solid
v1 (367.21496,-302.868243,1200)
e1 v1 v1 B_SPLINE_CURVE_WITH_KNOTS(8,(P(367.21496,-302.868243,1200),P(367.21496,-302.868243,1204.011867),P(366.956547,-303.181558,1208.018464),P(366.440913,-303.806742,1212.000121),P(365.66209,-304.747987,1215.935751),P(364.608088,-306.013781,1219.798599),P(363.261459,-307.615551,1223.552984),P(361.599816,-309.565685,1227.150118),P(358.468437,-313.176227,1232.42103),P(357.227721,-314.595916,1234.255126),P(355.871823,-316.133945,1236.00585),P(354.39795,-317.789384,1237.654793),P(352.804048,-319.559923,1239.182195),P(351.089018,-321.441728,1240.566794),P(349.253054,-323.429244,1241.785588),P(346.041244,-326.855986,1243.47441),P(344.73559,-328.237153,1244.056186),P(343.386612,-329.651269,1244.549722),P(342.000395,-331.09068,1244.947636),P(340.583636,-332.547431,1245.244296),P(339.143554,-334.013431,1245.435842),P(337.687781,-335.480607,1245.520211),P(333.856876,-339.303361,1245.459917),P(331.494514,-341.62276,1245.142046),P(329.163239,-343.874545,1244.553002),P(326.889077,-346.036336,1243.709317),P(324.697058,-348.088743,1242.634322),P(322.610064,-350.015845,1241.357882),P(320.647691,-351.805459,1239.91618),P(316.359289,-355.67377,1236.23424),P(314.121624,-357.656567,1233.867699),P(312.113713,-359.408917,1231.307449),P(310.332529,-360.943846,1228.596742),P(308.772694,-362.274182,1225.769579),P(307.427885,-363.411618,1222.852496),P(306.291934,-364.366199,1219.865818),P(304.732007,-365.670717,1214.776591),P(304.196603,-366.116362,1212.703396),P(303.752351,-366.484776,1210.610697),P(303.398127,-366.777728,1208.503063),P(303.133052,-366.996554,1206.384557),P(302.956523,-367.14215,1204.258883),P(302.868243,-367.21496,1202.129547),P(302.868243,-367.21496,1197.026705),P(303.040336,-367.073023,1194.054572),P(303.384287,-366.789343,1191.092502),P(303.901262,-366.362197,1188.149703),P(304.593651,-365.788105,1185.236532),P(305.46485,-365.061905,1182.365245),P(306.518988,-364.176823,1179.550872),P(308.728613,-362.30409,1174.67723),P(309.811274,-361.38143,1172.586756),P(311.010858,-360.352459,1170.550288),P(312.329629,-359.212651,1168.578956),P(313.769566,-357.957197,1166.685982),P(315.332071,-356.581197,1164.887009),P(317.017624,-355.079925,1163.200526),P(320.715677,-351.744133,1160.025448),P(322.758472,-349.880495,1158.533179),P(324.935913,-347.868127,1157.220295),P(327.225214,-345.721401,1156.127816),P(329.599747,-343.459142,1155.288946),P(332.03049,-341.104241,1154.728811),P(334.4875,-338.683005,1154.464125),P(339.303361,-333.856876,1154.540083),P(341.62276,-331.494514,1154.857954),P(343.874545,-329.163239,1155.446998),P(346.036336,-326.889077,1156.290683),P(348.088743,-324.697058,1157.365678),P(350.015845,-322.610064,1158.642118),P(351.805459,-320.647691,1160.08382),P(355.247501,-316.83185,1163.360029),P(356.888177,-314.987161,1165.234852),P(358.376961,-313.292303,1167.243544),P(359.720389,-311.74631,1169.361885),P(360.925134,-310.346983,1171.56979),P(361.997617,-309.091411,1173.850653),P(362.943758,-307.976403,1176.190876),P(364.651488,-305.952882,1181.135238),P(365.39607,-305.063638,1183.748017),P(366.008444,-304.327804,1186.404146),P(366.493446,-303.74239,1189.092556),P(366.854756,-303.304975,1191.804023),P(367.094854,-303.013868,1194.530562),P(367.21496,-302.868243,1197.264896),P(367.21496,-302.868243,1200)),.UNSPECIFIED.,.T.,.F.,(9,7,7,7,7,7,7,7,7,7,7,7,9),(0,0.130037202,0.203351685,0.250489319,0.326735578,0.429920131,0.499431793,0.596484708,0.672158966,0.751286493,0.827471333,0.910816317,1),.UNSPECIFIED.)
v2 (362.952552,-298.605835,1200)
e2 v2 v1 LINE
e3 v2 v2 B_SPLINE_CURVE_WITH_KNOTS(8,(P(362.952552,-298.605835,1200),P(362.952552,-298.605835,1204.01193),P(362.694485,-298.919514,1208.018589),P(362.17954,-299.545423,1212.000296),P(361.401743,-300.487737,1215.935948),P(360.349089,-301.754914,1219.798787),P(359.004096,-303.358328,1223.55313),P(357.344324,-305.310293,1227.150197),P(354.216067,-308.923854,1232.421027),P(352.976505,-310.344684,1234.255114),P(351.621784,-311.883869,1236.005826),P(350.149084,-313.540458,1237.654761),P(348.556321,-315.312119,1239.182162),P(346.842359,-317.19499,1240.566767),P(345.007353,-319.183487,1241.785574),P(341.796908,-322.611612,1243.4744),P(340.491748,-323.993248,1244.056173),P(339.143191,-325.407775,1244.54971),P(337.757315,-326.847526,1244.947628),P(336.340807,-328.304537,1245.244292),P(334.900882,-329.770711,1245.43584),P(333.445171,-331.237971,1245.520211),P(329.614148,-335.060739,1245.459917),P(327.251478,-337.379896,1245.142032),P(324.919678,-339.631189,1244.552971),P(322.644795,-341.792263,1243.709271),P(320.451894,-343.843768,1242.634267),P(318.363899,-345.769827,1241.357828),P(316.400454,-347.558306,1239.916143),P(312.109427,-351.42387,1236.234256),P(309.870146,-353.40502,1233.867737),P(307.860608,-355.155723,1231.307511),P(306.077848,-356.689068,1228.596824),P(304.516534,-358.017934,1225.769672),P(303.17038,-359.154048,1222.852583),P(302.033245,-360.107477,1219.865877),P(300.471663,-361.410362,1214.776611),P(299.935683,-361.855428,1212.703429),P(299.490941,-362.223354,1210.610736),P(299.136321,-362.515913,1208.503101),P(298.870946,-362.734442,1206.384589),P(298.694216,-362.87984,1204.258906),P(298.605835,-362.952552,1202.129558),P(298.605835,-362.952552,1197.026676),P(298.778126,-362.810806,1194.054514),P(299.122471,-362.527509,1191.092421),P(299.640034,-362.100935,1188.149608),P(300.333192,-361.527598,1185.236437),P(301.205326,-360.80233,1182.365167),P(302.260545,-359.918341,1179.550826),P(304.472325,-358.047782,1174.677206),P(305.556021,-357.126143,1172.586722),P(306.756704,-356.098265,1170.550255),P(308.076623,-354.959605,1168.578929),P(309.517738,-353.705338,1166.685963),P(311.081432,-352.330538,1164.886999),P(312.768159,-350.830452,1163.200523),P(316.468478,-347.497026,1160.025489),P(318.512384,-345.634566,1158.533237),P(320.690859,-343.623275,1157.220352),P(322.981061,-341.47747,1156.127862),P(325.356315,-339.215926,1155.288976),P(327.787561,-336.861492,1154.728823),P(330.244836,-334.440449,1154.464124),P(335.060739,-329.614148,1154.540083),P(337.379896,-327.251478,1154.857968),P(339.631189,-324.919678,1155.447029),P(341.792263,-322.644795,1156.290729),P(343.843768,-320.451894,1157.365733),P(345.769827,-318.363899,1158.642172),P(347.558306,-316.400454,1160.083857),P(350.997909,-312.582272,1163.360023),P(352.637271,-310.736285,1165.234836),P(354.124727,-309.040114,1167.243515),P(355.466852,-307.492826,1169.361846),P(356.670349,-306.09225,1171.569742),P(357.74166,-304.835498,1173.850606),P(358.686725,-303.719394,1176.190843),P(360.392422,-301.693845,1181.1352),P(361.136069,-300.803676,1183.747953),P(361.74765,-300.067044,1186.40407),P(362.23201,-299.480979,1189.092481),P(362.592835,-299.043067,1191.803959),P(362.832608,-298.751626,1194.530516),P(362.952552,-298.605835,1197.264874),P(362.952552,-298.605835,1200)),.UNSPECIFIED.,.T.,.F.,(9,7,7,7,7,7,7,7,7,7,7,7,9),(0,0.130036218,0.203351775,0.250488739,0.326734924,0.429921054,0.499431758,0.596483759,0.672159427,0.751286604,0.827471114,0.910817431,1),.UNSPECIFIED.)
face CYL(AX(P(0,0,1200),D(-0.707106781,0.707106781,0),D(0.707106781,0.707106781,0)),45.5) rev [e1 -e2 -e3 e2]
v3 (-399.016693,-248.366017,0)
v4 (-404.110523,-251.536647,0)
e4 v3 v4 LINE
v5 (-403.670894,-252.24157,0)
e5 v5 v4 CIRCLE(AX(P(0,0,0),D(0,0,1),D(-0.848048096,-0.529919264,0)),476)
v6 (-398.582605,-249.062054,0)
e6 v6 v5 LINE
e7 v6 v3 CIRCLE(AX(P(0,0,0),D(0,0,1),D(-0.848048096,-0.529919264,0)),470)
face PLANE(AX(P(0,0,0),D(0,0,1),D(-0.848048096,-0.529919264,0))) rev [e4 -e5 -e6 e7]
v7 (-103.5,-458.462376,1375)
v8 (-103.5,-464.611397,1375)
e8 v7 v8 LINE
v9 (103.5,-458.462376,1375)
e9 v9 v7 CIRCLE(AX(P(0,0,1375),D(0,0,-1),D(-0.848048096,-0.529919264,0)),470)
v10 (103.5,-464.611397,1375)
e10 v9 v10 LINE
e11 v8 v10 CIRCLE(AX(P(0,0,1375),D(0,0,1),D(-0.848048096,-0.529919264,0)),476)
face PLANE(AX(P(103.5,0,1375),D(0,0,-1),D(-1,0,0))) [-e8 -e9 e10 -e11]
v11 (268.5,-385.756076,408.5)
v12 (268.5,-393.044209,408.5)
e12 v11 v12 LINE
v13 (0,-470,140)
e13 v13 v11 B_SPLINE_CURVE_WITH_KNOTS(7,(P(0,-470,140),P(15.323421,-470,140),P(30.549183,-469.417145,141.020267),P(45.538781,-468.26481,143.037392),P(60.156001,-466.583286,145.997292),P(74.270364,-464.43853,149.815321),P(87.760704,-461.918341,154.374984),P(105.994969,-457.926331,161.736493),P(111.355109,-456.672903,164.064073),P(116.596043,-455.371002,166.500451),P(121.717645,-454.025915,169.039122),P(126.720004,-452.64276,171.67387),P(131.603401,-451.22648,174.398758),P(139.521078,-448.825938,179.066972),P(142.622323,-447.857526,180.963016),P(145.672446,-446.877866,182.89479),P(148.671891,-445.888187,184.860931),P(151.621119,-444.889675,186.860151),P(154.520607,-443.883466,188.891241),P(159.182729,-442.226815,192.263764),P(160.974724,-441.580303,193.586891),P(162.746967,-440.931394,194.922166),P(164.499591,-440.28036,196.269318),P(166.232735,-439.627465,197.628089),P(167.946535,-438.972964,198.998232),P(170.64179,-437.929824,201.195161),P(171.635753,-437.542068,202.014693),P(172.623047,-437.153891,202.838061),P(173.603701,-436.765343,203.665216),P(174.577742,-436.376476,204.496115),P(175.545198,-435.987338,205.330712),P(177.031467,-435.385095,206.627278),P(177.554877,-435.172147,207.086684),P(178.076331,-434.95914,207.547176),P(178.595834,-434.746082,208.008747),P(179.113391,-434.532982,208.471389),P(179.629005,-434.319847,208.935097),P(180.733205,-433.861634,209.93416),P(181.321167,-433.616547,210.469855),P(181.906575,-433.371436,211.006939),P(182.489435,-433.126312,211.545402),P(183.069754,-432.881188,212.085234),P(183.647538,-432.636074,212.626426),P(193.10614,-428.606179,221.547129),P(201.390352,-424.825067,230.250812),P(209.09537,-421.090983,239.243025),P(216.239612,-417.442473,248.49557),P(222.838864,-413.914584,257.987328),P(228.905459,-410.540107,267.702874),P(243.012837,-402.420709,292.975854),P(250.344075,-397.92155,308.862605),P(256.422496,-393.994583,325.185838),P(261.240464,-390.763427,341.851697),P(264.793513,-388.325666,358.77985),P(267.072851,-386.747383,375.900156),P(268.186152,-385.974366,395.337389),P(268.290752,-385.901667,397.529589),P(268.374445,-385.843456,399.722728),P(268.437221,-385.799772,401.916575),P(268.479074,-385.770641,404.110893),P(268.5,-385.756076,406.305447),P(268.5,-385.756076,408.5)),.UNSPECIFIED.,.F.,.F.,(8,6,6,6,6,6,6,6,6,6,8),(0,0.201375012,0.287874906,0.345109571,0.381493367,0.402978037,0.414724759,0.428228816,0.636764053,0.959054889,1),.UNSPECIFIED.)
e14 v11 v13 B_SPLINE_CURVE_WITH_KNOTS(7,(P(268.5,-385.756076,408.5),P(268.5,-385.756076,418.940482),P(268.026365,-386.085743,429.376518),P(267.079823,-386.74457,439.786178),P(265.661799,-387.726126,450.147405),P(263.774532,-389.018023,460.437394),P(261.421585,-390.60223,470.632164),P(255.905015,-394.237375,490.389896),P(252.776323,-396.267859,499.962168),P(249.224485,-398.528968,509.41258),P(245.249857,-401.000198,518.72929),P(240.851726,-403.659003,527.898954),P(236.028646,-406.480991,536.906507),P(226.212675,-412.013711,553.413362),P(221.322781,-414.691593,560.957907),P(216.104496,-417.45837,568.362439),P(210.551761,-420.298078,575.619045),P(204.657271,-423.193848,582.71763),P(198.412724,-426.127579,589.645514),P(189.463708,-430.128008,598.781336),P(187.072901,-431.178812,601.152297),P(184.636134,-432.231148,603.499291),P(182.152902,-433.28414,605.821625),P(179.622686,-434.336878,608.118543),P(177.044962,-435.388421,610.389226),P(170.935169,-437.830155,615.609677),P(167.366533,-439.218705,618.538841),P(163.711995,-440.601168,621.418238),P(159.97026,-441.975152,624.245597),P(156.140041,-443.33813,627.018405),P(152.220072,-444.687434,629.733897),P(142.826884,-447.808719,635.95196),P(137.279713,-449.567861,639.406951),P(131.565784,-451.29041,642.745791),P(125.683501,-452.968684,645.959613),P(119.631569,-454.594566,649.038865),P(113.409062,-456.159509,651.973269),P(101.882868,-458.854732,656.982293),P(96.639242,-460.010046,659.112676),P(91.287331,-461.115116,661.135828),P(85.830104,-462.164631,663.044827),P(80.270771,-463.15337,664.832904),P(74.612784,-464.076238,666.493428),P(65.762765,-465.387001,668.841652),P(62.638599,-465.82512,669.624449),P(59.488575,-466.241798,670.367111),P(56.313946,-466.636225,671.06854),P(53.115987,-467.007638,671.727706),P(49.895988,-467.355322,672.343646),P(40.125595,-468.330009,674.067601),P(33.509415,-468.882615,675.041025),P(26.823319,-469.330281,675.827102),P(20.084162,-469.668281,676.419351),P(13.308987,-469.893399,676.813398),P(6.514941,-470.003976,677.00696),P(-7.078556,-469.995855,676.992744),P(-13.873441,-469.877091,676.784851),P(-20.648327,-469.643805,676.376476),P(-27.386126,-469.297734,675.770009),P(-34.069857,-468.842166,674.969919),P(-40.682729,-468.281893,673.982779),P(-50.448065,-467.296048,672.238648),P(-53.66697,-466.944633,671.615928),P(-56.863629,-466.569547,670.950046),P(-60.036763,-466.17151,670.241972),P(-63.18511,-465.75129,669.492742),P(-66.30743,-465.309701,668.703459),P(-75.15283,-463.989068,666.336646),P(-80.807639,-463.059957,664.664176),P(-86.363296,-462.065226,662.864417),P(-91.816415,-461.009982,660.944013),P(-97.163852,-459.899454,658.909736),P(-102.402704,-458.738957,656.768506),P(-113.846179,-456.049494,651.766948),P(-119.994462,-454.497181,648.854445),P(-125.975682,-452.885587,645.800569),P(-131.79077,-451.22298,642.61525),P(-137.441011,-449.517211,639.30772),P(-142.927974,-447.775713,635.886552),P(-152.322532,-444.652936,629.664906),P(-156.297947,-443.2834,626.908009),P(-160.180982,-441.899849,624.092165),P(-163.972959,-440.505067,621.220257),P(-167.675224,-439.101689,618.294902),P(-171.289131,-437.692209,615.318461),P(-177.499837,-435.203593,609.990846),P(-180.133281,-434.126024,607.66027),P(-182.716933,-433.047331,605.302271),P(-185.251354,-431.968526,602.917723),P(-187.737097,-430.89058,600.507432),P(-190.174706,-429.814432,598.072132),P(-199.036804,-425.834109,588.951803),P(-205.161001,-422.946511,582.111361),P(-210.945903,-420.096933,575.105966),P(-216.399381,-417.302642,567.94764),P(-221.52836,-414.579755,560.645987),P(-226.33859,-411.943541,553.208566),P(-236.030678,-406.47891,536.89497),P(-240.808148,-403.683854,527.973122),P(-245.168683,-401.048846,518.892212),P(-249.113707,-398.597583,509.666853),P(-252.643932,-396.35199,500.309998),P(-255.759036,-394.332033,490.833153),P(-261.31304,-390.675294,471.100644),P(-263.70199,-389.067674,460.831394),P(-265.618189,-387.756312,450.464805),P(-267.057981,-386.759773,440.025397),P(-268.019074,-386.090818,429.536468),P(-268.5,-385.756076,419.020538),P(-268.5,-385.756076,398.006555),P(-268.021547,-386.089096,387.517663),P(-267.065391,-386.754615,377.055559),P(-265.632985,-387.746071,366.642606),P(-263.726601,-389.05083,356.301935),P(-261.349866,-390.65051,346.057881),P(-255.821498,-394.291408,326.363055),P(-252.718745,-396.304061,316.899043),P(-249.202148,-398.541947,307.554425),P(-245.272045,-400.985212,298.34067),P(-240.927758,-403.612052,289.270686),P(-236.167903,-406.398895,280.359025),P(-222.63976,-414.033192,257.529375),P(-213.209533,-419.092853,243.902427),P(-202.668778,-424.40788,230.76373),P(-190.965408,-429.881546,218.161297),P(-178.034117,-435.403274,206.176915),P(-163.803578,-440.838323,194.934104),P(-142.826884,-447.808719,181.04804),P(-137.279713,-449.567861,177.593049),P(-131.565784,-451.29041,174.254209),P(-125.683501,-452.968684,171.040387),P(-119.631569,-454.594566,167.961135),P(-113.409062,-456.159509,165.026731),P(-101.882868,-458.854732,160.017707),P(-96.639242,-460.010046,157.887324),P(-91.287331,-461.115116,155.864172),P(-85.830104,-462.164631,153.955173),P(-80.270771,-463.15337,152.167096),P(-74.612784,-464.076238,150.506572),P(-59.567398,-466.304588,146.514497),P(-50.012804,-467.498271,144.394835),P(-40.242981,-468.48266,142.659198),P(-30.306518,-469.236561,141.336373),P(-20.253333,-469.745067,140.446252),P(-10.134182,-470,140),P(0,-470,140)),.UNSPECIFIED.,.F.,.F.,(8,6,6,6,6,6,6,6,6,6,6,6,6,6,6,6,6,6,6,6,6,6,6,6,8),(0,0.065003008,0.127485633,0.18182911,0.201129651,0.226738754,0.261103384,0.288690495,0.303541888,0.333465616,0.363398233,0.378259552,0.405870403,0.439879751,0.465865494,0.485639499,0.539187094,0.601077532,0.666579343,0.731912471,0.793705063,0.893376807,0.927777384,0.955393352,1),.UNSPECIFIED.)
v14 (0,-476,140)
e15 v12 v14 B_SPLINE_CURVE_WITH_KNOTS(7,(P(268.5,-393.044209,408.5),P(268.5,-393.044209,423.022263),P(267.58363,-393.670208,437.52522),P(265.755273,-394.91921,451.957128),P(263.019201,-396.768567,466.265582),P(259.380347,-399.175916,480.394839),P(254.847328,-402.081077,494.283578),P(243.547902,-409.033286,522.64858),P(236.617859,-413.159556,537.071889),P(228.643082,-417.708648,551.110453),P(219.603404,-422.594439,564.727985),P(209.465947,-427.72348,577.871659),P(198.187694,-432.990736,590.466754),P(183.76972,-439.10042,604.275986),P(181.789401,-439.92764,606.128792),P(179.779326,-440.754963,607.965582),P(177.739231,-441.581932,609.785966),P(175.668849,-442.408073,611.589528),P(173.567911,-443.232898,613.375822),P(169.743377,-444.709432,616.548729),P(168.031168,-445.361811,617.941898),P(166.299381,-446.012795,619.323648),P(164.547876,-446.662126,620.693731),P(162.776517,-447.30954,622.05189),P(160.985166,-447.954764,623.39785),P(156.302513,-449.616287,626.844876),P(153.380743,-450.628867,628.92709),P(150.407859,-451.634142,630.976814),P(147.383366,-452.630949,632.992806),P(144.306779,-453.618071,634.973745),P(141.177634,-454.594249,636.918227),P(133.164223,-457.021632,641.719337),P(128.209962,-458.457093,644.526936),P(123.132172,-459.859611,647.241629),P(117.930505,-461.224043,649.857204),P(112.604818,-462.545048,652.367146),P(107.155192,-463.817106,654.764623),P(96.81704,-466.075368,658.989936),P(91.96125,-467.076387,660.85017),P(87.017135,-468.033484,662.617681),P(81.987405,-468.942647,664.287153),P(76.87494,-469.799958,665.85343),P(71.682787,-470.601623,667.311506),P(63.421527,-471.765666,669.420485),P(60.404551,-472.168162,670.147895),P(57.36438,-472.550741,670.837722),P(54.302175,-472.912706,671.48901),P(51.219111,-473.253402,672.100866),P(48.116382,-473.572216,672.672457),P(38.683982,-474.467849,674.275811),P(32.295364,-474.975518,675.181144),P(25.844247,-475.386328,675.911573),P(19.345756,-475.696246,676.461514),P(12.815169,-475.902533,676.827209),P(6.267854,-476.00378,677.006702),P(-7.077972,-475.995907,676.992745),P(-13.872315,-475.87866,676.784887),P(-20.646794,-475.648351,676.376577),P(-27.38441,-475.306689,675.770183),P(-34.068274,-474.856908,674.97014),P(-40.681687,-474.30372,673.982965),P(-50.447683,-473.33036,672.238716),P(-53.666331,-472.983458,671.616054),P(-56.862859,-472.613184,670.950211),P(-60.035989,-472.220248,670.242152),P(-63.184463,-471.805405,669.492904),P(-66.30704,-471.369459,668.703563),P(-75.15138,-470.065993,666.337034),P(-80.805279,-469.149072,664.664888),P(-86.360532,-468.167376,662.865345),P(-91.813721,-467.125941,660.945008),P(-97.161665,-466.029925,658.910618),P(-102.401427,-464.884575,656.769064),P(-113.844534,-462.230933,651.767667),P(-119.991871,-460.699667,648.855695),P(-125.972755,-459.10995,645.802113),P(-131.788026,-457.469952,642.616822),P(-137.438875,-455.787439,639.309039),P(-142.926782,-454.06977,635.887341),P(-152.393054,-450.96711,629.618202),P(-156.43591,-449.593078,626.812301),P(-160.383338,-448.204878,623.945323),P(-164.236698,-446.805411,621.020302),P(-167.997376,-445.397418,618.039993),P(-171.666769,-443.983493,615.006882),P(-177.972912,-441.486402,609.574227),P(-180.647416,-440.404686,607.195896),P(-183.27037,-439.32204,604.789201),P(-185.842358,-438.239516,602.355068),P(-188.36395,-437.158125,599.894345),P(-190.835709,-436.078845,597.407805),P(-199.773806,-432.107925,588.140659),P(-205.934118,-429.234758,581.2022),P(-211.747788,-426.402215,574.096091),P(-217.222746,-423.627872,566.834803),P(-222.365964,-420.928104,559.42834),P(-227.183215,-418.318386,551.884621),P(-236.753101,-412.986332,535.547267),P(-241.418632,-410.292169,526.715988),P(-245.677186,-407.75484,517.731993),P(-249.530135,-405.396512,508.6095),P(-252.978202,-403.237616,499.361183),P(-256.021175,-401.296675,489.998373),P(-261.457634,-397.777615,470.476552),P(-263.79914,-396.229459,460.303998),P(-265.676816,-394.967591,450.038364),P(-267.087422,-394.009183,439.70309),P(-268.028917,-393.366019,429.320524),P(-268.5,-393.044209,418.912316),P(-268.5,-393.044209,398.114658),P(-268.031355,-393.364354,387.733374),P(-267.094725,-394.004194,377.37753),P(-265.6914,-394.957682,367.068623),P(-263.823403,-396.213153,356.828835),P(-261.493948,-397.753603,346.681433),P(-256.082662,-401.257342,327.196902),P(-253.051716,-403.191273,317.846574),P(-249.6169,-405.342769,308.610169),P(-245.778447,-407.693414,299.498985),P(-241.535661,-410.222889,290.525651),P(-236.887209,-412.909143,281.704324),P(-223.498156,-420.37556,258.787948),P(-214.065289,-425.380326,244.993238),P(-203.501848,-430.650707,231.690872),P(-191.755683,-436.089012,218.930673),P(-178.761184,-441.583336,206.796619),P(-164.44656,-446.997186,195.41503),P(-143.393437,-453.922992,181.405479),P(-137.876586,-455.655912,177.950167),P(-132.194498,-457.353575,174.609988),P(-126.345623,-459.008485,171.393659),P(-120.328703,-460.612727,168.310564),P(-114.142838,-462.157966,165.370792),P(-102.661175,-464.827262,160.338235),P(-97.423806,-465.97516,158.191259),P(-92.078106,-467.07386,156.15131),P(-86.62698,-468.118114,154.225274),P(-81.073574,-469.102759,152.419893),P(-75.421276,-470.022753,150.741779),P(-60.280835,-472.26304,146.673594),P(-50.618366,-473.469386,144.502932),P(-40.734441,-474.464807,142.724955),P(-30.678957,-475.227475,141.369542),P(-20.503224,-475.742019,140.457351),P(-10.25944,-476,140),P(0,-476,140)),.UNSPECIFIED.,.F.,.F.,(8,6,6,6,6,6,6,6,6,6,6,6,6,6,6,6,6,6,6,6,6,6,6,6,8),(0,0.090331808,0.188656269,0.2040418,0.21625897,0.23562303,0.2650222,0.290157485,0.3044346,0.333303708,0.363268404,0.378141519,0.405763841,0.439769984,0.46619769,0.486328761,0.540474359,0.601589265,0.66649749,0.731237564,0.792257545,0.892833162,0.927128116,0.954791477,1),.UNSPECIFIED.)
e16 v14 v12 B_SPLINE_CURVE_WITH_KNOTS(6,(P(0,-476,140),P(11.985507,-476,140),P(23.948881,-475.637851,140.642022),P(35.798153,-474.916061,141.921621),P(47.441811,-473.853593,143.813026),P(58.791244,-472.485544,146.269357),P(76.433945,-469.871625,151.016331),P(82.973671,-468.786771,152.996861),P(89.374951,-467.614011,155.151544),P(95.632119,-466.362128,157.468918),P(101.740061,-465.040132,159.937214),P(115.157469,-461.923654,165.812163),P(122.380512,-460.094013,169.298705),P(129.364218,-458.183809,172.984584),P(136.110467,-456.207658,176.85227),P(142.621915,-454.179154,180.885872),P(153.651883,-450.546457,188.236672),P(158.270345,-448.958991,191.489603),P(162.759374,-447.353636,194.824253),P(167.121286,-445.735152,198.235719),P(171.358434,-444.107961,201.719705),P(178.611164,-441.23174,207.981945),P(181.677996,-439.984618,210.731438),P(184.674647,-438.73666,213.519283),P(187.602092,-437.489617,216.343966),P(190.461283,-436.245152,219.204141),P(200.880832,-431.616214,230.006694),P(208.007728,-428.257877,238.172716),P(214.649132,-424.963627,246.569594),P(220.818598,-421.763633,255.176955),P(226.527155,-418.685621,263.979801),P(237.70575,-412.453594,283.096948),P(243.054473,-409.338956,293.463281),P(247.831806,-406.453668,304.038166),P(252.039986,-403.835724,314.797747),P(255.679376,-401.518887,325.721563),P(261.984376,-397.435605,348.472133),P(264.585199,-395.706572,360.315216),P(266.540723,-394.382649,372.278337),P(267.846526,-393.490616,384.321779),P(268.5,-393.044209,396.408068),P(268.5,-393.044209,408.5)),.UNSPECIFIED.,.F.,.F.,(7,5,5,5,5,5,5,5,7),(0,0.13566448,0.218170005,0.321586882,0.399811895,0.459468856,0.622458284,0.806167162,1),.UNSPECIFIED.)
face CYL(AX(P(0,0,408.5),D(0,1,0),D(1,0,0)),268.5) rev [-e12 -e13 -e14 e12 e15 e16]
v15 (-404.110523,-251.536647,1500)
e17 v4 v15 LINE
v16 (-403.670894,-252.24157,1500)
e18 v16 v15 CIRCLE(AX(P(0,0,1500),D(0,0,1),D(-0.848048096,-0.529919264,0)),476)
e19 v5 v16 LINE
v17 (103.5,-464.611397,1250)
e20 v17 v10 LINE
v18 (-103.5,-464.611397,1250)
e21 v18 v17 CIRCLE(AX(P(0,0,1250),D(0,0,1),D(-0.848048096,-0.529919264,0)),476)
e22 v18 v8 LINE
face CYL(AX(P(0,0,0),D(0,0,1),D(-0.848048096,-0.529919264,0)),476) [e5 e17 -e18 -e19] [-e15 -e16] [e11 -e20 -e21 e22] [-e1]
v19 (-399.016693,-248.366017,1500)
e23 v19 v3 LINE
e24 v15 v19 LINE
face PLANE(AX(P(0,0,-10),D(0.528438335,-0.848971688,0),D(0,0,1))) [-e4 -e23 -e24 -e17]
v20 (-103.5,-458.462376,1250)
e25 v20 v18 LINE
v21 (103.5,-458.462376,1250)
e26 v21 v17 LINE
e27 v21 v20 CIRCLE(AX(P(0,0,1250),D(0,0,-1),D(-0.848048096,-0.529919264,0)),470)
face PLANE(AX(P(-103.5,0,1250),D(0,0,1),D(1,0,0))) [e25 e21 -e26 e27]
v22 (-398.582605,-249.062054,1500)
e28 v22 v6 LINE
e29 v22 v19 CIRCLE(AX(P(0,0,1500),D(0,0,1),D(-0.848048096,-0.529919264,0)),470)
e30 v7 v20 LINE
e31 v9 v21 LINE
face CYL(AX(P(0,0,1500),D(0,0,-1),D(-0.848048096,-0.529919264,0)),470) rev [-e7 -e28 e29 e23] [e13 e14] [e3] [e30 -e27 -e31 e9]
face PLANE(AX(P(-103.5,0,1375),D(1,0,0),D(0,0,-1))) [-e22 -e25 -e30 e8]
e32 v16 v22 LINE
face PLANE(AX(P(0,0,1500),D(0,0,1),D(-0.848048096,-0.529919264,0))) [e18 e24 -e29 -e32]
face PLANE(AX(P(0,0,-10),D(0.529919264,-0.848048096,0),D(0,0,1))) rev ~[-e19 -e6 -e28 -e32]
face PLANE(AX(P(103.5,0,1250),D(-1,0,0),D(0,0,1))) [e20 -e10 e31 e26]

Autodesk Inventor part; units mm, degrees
sketch "Sketch13" plane through (0, 0, 0) normal (0, 0, 1) x (1, 0, 0)
  circle A0 centre (0, 0) radius 476 construction
  line L0 (0, 0) -> (0, -476)
  line L1 (0, 0) -> (-403.6709, -252.2416)
  line L2 (0, 0) -> (336.5828, -336.5828)
  line L3 (0, 0) -> (0, -476)
  line L4 (0, 0) -> (0, -476)
  line L5 (0, 0) -> (-424.1191, -216.0995)
  arc A1 (-403.6709, -252.2416) -> (0, -476) centre (0, 0) ccw
  dimension "d53" = 952
  dimension "d54" = 58
  dimension "d55" = 0
  dimension "d56" = 0
  dimension "d57" = 315
  dimension "d58" = 63
ref_plane "WeldJoint" through (0, 0, -10) normal (0.5299, -0.848, 0) x (0, 0, 1)
ref_plane "Outer" through (0, 0, -10) normal (0.454, -0.891, 0) x (0, 0, 1)
ref_plane "Clock_Feeder" through (0, 0, -10) normal (0.7071, 0.7071, 0) x (0, 0, 1)
ref_plane "Charging" through (0, 0, -10) normal (1, 0, 0) x (0, 0, 1)
ref_plane "Accsess" through (0, 0, -10) normal (1, 0, 0) x (0, 0, 1)
sketch "Sketch14" plane through (0, 0, -10) normal (0.5299, -0.848, 0) x (0, 0, 1)
  line L0 (1510, 470) -> (10, 470)
  line L1 (10, 470) -> (10, 476)
  line L2 (10, 476) -> (1510, 476)
  line L3 (1510, 476) -> (1510, 470)
  line L4 (10, 0) -> (825.0673, 0)
  point P0 (10, 473)
  dimension "d59" = 1500
  dimension "d60" = 6
  dimension "d61" = 952
revolve "Revolution2" add sketch "Sketch14" angle 359.9 about axis through (0, 0, 0) along (0, 0, 1)
sketch "Sketch AnglePlane_Feeder" plane through (0, 0, -10) normal (0.7071, 0.7071, 0) x (0, 0, 1)
  line L0 (10, -476) -> (10, 476) projected
  line L1 (10, 0) -> (1210, 0)
  line L2 (1210, 0) -> (1210, 476)
  line L3 (1210, 476) -> (10, 476)
  line L4 (10, 476) -> (10, 0)
  point P0 (10, -107.0767)
  point P1 (10, -107.886)
  dimension "d63" = 952
  dimension "d64" = 90
  dimension "frd_hght" = 1200
ref_plane "AnglePlane_Feeder" through (0, 0, 1200) normal (0.7071, -0.7071, 0) x (0.7071, 0.7071, 0)
sketch "Sketch16" plane through (0, 0, 1200) normal (0.7071, -0.7071, 0) x (0.7071, 0.7071, 0)
  circle A0 centre (0, 0) radius 45.5
  point P0 (0, -1200)
  point P1 (0, 0)
  point P2 (0, 0)
  point P3 (0, 0)
  dimension "d66" = 91
extrude "Extrusion7" cut sketch "Sketch16" along normal through all
ref_plane "Work Plane16" through (0, 0, 0) normal (0, -1, 0) x (1, 0, 0)
sketch "Sketch17" plane through (0, 0, 0) normal (0, -1, 0) x (1, 0, 0)
  circle A0 centre (0, 408.5) radius 268.5
  line L0 (0, 140) -> (-495.5727, 140)
  point P0 (0, 0)
  dimension "d69" = 537
  dimension "d71" = 140
extrude "Extrusion8" cut sketch "Sketch17" along normal through all
sketch "Sketch19" plane through (0, 0, -10) normal (1, 0, 0) x (0, 0, 1)
  line L0 (10, 0) -> (1260, 0)
  line L1 (1260, 0) -> (1260, 476)
  line L2 (1260, 476) -> (10, 476)
  line L3 (10, 476) -> (10, 0)
  dimension "d74" = 1250
  dimension "d76" = 952
  dimension "d77" = 90
ref_plane "Work Plane18" through (0, 0, 1250) normal (0, -1, 0) x (1, 0, 0)
sketch "Sketch20" plane through (0, 0, 1250) normal (0, -1, 0) x (1, 0, 0)
  line L0 (-103.5, 0) -> (103.5, 0)
  line L1 (103.5, 0) -> (103.5, 125)
  line L2 (103.5, 125) -> (-103.5, 125)
  line L3 (-103.5, 125) -> (-103.5, 0)
  point P0 (0, -1250)
  point P1 (0, 0)
  point P2 (0, 0)
  point P3 (0, 0)
  point P4 (0, 0)
  dimension "d78" = 207
  dimension "d79" = 125
extrude "Extrusion9" cut sketch "Sketch20" along normal through all
equation "\"BendRadius\" = Thickness"
equation "\"BendReliefWidth\" = Thickness"
equation "\"BendReliefDepth\" = 0.5 * Thickness"
equation "\"CornerReliefSize\" = 4 * Thickness"
equation "\"MinimumRemnant\" = 2 * Thickness"
equation "\"TransitionRadius\" = BendRadius"
equation "\"JacobiRadiusSize\" = BendRadius"
equation "\"GapSize\" = Thickness"
equation "\"Feeder_horisont_angle\" = 0"
equation "\"MAIN_filter_diam\" = 952"
equation "\"Hatch_Accsess_diameter\" = 535"
equation "\"Clock_Accsess_angle\" = 0"
equation "\"Clock_Charging_agnle\" = 0"
equation "\"Clock_Feeder_angle\" = 315deg"
equation "\"Clock_Outer_angle\" = 63deg"
equation "\"Clock_WeldJoint_angle\" = 58deg"
equation "\"Thickness\" = 6"
properties part number "PNS 9110 main Shell D 940" material "Steel"
